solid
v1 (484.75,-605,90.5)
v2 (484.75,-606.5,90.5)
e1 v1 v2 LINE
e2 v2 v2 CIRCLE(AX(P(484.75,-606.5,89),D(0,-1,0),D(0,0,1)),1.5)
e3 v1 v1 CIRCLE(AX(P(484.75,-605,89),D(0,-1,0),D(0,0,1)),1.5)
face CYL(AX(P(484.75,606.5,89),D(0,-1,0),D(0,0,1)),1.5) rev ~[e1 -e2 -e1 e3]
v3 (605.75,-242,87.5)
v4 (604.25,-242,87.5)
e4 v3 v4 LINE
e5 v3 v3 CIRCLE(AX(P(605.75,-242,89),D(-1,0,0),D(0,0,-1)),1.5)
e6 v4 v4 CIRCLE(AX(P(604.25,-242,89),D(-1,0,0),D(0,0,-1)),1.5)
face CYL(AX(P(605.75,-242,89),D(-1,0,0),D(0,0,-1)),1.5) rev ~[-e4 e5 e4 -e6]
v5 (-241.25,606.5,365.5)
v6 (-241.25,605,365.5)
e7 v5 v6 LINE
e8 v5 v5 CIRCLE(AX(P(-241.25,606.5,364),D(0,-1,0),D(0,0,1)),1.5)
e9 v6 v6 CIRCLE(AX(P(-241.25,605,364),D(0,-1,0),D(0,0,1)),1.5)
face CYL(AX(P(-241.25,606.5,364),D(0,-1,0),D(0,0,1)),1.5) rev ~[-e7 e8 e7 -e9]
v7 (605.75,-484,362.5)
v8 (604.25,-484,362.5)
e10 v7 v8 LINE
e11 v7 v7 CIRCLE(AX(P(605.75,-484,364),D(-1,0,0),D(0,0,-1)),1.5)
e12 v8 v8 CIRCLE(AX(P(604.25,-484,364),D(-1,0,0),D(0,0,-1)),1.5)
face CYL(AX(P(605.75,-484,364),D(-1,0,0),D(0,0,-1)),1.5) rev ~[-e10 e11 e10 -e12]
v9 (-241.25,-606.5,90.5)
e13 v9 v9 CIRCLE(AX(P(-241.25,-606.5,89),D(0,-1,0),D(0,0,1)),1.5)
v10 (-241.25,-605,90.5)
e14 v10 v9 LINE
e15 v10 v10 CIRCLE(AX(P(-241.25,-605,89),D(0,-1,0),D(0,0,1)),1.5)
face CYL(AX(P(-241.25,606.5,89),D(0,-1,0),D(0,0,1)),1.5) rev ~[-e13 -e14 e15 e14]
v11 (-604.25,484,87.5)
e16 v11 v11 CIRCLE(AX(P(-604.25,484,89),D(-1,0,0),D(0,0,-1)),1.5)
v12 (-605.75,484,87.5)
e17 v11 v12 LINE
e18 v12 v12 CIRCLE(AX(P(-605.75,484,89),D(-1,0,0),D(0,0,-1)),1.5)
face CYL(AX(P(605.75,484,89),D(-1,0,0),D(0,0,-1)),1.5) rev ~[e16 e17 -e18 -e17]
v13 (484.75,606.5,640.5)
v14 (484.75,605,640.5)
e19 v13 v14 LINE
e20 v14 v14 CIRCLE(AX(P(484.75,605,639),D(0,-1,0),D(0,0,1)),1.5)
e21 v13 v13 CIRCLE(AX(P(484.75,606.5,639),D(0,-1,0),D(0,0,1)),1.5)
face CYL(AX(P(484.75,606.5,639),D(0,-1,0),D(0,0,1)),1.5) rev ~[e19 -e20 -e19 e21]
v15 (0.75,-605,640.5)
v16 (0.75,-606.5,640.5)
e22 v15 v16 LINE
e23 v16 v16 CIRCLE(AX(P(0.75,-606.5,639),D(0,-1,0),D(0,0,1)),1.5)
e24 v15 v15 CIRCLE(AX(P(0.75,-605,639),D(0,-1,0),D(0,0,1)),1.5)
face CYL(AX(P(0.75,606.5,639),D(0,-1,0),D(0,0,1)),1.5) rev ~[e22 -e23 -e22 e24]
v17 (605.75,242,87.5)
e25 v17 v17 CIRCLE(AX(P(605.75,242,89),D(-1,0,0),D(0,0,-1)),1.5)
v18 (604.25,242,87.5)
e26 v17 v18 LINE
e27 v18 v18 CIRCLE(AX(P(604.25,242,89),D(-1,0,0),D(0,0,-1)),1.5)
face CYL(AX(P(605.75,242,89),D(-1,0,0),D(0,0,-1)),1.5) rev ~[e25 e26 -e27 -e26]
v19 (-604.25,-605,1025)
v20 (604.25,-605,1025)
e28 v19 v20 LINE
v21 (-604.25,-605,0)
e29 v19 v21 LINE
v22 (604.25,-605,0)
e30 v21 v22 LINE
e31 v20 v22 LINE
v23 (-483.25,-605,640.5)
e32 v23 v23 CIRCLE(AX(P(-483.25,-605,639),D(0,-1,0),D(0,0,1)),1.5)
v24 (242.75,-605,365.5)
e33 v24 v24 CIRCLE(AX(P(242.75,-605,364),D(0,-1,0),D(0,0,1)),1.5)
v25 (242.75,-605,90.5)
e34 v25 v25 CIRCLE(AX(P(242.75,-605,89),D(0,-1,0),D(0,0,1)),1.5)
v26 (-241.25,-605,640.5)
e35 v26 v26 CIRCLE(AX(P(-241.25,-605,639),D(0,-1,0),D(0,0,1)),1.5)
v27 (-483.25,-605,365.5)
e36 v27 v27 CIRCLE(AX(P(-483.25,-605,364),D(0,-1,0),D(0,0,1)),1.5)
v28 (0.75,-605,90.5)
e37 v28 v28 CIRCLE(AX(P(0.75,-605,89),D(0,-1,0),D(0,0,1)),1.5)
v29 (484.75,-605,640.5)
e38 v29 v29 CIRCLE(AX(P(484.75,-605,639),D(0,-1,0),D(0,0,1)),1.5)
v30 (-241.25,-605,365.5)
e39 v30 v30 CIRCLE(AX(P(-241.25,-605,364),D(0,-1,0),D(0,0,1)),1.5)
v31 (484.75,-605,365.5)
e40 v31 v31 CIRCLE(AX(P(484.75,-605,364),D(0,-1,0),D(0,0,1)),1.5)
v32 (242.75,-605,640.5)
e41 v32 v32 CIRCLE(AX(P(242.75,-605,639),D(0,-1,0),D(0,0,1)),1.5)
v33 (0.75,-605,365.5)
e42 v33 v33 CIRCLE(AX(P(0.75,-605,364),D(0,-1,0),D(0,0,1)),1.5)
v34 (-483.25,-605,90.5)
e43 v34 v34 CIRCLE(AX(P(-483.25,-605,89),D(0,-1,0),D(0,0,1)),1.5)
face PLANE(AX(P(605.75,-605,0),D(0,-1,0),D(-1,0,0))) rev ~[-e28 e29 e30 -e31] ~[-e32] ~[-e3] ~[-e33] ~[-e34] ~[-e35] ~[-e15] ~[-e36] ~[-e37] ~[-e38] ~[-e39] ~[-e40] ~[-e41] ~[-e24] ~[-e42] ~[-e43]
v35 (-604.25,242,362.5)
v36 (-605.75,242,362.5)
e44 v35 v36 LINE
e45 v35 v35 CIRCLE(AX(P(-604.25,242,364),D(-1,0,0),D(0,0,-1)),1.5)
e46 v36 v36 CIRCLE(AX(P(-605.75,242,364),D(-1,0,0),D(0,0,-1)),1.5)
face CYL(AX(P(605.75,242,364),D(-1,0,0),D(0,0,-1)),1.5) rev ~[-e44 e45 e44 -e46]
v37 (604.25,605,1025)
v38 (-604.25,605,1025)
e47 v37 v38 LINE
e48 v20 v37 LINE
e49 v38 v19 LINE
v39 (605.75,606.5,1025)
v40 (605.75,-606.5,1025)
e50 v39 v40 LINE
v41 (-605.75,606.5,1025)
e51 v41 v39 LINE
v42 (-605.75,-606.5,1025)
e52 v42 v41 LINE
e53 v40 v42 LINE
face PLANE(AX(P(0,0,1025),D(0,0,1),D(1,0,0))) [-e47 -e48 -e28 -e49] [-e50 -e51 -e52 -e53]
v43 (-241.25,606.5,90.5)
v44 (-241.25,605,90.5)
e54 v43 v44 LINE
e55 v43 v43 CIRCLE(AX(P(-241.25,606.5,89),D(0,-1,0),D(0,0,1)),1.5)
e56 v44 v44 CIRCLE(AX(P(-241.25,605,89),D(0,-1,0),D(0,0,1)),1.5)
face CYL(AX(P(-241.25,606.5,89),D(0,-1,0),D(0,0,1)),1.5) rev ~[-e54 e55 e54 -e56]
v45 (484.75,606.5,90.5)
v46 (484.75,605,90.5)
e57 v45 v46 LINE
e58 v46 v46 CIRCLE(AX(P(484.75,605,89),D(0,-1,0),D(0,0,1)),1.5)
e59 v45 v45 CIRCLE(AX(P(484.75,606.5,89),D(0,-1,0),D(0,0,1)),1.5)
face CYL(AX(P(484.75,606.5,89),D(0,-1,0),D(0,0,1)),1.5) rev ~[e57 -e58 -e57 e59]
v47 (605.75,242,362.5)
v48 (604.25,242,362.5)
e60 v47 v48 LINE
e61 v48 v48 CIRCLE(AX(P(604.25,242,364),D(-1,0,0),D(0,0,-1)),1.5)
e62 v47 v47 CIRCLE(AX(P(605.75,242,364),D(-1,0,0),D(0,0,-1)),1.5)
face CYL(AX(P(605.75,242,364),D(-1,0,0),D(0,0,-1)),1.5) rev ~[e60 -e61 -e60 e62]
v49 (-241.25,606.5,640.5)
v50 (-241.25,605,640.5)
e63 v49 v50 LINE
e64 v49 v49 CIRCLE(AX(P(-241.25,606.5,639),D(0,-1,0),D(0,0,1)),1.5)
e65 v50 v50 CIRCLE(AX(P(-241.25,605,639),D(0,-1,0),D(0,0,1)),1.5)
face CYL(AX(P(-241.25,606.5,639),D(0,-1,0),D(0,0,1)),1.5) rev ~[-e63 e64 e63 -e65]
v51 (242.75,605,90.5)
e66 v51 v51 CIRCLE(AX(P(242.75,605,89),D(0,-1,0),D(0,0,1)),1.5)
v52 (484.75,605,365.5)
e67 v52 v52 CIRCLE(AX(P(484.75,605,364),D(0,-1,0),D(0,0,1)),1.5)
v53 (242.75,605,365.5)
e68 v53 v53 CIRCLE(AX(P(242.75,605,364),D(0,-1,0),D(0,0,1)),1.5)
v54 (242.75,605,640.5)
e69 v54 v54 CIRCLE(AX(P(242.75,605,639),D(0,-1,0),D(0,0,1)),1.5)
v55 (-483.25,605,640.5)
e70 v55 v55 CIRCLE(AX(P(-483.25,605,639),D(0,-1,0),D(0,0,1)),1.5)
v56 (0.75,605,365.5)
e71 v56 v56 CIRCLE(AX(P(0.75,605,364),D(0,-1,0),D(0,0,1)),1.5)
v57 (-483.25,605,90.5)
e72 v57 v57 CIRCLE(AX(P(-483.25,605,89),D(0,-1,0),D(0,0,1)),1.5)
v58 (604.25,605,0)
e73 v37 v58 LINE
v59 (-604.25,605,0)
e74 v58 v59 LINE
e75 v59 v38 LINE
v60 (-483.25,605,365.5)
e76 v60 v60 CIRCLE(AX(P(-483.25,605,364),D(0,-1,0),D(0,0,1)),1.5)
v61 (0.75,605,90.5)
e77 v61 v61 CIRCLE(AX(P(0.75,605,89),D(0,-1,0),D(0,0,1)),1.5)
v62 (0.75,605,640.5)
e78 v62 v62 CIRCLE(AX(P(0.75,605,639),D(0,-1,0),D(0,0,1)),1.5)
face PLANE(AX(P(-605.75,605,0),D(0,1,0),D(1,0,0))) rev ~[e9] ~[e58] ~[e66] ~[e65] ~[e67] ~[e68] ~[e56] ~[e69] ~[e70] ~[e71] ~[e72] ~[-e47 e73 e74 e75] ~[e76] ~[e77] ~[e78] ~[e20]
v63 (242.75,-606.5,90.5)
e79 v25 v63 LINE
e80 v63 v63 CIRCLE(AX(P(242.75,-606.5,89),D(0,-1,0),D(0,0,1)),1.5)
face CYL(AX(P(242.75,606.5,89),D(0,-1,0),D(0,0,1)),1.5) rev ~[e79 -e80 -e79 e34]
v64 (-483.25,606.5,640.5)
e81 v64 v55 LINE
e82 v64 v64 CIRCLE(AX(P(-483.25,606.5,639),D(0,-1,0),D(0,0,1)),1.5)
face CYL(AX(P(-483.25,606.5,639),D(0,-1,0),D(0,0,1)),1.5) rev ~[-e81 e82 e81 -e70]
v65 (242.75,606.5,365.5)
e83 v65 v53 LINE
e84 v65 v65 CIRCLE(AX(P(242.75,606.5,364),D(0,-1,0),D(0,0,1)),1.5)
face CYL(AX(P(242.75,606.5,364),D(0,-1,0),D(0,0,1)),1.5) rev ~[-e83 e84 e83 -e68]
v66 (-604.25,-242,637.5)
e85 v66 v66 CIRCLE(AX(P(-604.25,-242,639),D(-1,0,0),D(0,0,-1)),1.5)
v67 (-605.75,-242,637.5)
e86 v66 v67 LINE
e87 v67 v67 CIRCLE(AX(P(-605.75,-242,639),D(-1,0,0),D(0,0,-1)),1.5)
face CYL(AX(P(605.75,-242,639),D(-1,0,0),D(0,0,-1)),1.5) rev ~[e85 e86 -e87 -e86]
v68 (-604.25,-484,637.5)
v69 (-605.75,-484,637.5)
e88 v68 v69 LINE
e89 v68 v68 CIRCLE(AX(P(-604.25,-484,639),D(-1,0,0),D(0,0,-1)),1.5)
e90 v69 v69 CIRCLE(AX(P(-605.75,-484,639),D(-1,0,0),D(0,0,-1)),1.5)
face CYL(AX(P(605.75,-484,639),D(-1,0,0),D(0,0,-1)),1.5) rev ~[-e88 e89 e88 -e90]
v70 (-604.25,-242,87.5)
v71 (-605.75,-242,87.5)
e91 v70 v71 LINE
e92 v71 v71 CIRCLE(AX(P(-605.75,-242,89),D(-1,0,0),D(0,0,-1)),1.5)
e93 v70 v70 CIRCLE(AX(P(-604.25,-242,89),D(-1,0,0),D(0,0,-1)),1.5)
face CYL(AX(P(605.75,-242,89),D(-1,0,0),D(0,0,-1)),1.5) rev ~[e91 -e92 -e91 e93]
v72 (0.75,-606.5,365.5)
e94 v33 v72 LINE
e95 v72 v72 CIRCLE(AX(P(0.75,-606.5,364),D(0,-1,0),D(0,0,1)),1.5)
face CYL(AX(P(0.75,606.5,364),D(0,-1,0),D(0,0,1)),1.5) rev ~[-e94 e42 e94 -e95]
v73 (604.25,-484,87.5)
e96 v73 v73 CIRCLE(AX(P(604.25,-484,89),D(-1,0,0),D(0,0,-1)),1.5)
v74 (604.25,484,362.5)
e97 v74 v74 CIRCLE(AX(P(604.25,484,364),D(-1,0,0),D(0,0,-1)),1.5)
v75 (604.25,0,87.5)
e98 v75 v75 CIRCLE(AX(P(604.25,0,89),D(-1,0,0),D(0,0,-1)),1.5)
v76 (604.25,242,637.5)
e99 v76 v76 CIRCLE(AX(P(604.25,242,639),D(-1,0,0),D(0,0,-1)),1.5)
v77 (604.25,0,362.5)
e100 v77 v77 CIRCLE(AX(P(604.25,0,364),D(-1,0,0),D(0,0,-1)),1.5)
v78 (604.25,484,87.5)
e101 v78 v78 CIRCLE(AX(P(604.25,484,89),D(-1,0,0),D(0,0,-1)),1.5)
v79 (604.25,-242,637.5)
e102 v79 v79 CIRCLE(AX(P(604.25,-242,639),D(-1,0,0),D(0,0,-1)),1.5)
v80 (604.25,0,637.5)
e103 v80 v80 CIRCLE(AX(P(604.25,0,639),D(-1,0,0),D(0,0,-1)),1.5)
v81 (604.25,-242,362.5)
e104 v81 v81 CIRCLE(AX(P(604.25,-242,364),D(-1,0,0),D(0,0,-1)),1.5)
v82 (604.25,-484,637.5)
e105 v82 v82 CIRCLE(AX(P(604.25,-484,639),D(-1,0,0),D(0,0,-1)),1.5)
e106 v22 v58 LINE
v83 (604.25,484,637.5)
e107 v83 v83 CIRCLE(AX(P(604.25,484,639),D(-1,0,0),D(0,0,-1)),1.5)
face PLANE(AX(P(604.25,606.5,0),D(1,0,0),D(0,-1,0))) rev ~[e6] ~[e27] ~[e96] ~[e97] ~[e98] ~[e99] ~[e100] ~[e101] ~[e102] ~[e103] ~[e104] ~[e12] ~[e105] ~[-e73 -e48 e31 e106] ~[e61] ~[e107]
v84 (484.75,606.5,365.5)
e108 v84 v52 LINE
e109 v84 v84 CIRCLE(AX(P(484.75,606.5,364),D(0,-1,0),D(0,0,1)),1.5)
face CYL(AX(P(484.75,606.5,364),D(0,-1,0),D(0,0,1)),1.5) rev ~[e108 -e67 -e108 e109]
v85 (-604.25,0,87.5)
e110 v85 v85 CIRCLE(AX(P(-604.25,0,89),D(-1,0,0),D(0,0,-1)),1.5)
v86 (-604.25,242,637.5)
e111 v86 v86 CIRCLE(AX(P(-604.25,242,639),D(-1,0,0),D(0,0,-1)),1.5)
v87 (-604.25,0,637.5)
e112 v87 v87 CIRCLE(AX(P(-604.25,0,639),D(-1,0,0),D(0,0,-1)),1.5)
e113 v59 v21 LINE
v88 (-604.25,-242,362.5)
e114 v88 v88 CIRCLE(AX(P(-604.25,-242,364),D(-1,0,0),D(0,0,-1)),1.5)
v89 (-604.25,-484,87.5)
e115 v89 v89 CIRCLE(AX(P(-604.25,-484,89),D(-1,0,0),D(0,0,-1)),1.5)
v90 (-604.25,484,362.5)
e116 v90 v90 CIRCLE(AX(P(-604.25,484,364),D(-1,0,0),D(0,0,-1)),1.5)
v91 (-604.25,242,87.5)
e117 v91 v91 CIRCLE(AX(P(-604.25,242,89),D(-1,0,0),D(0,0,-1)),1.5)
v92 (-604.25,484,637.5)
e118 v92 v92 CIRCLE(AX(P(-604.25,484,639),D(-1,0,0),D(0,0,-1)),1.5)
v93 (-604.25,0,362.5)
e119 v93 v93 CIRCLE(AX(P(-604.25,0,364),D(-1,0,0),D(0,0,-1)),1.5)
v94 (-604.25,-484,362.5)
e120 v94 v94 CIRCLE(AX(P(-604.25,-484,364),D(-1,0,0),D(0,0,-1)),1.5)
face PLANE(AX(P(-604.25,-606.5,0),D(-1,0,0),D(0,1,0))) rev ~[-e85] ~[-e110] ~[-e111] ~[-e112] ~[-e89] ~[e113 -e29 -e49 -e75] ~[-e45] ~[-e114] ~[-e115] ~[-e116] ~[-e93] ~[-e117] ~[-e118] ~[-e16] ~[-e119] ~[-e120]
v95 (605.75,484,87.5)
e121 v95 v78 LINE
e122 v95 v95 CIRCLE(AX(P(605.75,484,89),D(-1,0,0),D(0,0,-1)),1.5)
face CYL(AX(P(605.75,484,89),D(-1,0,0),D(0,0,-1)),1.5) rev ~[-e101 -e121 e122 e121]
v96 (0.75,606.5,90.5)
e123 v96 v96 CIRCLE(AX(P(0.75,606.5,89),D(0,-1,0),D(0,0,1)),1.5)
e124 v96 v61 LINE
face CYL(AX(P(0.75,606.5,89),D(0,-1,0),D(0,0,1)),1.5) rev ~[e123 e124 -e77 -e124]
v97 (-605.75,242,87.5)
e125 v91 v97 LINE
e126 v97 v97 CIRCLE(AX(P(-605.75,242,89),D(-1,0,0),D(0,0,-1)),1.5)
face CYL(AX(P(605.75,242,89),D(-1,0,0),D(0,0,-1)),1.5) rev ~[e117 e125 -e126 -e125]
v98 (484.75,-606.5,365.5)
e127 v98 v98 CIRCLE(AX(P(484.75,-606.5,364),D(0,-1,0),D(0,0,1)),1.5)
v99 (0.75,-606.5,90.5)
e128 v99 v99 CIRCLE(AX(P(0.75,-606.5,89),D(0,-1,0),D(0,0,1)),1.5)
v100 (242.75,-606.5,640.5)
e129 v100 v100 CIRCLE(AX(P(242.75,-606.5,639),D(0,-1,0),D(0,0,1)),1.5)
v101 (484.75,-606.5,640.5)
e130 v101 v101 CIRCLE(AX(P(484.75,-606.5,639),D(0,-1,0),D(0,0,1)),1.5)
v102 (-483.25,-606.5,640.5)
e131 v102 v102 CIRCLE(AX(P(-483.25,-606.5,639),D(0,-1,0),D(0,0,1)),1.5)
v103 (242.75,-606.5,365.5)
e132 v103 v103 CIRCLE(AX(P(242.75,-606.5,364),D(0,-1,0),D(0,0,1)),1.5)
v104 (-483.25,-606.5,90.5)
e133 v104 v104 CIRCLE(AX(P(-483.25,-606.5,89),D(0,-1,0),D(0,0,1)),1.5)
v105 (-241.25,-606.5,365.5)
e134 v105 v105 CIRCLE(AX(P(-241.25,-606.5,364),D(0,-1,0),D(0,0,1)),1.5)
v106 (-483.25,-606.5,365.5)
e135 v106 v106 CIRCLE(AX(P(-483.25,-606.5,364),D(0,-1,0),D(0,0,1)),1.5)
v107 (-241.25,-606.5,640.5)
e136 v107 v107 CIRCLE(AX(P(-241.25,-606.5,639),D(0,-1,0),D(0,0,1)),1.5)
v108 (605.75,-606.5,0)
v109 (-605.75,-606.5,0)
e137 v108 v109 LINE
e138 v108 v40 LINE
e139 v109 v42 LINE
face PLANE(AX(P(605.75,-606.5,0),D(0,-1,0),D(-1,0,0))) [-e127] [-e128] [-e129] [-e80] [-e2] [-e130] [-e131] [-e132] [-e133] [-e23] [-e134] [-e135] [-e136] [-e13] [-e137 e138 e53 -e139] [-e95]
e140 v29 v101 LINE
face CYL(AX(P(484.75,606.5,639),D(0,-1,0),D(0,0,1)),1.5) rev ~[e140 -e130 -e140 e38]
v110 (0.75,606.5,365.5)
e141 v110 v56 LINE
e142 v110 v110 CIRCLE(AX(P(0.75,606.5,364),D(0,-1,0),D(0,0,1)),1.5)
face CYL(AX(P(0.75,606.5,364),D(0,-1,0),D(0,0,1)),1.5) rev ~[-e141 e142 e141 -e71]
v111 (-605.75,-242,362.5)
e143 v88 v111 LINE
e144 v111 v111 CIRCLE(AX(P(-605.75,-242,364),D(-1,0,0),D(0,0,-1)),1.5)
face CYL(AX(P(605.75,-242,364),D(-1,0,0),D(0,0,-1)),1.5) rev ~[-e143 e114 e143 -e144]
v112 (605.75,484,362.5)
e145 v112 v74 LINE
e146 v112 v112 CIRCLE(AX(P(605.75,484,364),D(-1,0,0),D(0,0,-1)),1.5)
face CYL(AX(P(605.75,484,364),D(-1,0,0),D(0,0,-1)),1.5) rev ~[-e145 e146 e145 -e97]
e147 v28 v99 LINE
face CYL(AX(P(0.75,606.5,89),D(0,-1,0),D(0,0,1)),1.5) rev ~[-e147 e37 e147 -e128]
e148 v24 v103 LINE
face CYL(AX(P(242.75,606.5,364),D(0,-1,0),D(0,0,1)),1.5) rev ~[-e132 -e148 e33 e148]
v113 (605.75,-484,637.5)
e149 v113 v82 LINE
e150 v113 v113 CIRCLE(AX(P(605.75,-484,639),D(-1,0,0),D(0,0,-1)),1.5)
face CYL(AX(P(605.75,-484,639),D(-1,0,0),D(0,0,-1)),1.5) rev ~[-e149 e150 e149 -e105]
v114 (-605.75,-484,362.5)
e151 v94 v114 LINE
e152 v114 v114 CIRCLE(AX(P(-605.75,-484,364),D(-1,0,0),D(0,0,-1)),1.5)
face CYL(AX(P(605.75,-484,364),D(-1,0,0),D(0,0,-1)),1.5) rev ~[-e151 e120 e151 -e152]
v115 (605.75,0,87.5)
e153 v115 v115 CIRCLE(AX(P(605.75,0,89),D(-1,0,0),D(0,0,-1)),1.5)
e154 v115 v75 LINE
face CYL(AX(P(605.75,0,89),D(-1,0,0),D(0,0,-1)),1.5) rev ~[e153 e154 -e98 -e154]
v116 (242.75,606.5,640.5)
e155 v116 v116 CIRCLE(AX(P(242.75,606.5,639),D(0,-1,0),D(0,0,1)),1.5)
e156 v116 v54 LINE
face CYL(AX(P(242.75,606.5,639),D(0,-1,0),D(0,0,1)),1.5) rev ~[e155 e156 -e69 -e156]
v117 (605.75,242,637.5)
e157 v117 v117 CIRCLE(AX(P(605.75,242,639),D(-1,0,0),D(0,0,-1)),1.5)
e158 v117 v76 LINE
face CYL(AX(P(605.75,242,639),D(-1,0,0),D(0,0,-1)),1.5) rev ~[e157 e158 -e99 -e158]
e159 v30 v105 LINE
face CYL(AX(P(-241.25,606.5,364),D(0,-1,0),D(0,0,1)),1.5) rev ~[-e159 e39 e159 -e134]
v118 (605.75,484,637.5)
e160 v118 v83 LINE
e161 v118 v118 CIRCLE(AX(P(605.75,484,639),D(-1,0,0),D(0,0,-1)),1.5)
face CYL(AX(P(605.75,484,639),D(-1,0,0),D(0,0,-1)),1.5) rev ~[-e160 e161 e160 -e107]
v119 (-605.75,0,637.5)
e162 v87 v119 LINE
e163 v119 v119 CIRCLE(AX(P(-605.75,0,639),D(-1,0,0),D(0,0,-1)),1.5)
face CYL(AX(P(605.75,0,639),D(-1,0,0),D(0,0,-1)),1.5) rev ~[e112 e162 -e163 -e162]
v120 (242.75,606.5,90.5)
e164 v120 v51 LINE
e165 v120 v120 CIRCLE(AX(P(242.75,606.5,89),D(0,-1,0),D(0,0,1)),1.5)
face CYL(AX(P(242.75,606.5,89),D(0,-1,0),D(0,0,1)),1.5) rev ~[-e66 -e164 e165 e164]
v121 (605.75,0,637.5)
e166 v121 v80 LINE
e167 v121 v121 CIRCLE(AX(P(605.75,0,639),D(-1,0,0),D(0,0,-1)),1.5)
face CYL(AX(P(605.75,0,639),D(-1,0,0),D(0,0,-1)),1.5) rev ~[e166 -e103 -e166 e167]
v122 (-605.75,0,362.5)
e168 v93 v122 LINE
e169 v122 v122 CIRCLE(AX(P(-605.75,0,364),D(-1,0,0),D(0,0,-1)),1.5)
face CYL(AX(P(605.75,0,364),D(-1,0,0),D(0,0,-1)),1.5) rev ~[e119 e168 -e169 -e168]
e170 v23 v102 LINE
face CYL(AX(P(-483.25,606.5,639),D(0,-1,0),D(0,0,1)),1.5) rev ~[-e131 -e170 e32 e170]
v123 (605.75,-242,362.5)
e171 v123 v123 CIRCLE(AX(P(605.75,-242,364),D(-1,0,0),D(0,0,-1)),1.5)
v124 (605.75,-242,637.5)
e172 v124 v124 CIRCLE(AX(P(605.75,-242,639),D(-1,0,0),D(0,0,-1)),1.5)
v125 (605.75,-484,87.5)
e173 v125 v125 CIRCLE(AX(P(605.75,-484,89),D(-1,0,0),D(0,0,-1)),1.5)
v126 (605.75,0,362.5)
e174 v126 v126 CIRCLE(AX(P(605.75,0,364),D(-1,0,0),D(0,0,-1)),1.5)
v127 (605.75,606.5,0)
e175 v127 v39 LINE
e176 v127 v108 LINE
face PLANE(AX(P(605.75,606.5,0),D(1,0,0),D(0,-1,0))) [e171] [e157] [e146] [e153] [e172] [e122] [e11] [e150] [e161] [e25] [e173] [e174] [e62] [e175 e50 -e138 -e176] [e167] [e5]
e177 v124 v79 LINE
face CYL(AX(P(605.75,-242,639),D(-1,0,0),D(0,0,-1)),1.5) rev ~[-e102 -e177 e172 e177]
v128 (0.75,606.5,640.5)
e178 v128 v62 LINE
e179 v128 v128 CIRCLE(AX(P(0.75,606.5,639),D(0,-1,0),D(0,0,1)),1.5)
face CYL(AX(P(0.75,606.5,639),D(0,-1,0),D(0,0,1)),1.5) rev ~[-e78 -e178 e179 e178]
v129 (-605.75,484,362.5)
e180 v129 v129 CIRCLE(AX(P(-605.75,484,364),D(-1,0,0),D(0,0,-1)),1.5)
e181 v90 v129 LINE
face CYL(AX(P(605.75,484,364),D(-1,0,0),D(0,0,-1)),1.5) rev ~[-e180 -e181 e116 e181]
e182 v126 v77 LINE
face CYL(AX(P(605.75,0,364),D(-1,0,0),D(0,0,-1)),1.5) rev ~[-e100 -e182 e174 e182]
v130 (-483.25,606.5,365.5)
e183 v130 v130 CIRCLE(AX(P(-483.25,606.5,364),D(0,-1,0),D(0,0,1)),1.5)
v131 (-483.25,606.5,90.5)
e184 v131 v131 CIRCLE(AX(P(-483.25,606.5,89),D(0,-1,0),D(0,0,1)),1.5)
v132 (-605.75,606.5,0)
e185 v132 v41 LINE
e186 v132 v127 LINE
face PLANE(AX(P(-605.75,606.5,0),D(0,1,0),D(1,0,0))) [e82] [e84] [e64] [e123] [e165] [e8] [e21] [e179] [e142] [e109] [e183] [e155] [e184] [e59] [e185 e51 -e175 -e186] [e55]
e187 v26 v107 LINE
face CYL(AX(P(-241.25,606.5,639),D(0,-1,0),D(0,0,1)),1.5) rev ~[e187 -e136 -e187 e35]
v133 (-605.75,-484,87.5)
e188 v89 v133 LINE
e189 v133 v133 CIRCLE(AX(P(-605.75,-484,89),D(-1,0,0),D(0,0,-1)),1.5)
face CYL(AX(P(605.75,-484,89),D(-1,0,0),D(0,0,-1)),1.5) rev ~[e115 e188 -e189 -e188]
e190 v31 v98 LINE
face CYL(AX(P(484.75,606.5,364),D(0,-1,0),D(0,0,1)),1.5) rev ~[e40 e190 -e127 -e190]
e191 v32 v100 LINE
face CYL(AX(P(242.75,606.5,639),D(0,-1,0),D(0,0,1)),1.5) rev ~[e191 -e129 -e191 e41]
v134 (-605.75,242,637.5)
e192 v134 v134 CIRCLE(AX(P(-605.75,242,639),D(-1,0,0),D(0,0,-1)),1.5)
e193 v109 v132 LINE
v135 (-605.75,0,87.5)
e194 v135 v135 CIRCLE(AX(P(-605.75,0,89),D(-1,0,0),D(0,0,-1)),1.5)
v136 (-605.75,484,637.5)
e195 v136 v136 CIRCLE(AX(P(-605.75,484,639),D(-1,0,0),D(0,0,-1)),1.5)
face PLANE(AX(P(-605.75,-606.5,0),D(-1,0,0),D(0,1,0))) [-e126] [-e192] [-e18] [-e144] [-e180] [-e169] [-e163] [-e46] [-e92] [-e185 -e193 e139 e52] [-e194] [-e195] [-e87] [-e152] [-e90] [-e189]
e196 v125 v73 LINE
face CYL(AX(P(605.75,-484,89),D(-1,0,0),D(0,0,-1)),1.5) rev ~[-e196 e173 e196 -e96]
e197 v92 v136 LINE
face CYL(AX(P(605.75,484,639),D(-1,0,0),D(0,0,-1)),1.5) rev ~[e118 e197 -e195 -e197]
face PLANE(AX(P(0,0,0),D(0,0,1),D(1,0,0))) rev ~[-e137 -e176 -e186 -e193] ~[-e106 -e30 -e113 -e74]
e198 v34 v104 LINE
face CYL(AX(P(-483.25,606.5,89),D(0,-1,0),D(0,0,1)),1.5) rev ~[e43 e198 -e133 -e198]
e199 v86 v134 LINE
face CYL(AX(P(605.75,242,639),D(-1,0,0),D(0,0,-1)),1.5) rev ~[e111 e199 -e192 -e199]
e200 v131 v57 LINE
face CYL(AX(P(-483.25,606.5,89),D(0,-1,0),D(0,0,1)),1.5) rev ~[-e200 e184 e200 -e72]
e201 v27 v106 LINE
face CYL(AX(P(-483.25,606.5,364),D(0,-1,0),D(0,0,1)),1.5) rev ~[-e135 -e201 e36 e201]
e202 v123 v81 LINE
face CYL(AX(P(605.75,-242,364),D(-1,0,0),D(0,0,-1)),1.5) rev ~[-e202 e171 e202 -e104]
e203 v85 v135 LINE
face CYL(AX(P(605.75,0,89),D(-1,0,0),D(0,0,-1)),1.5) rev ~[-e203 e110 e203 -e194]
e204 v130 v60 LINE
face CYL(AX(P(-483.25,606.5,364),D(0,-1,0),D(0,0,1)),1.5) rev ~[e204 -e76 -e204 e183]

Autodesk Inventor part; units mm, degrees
ref_plane "YZ Plane" through (0, 0, 0) normal (1, 0, 0) x (0, 1, 0)
ref_plane "XZ Plane" through (0, 0, 0) normal (0, 1, 0) x (-1, 0, 0)
ref_plane "XY Plane" through (0, 0, 0) normal (0, 0, 1) x (1, 0, 0)
sketch "Sketch1" plane through (0, 0, 0) normal (0, 0, 1) x (1, 0, 0)
  line L0 (-608.75, -609.5) -> (608.75, 609.5) construction
  line L1 (608.75, -609.5) -> (-608.75, 609.5) construction
  line L2 (-605.75, 606.5) -> (605.75, 606.5)
  line L3 (605.75, 606.5) -> (605.75, -606.5)
  line L4 (605.75, -606.5) -> (-605.75, -606.5)
  line L5 (-605.75, -606.5) -> (-605.75, 606.5)
  point P0 (0, 0)
  dimension "d0" = 1217.5
  dimension "d1" = 1219
extrude "Extrusion1" add sketch "Sketch1" along normal blind 1025
sketch "Sketch2" plane through (605.75, -606.5, 0) normal (1, 0, 0) x (0, 0, -1)
  line L0 (0, 0) -> (-1025, 0) construction
  line L1 (-639, 0) -> (-639, 1213) construction
  line L2 (0, 1213) -> (-1025, 1213) construction
  line L3 (-364, 0) -> (-364, 1204) construction
  line L4 (-89, 0) -> (-89, 1213) construction
  line L5 (-1025, 0) -> (-1025, 1213) projected
  line L6 (-1025, 122.5) -> (0, 122.5) construction
  line L7 (0, 0) -> (0, 1213) construction
  line L8 (-1025, 364.5) -> (0, 364.5) construction
  line L9 (-1025, 606.5) -> (0, 606.5) construction
  line L10 (-1025, 848.5) -> (0, 848.5) construction
  line L11 (-1025, 1090.5) -> (0, 1090.5) construction
  point P0 (0, 606.5)
  point P1 (-639, 1090.5)
  point P2 (-364, 1090.5)
  point P3 (-89, 1090.5)
  point P4 (-89, 848.5)
  point P5 (-89, 606.5)
  point P6 (-89, 364.5)
  point P7 (-89, 122.5)
  point P8 (-364, 122.5)
  point P9 (-364, 364.5)
  point P10 (-364, 606.5)
  point P11 (-364, 848.5)
  point P12 (-639, 848.5)
  point P13 (-639, 606.5)
  point P14 (-639, 364.5)
  point P15 (-639, 122.5)
  dimension "d5" = 386
  dimension "d6" = 275
  dimension "d7" = 275
  dimension "d8" = 122.5
  dimension "d9" = 242
  dimension "d10" = 242
  dimension "d11" = 242
  dimension "d12" = 242
  dimension "d13" = 122.5
sketch "Sketch3" plane through (-605.75, 606.5, 0) normal (0, 1, 0) x (1, 0, 0)
  line L0 (1211.5, -639) -> (0, -639) construction
  line L1 (0, 0) -> (0, -1025) construction
  line L2 (1211.5, -364) -> (7.5, -364) construction
  line L3 (1211.5, -89) -> (0, -89) construction
  line L4 (0, -1025) -> (1211.5, -1025) construction
  line L5 (122.5, -1025) -> (122.5, 0) construction
  line L6 (0, 0) -> (1211.5, 0) construction
  line L7 (364.5, -1000) -> (364.5, 0) construction
  line L8 (606.5, -1000) -> (606.5, 0) construction
  line L9 (848.5, -1025) -> (848.5, 0) construction
  line L10 (1090.5, -1025) -> (1090.5, 0) construction
  line L11 (1211.5, 0) -> (1211.5, -1025) projected
  point P0 (605.75, 0)
  point P1 (122.5, -639)
  point P2 (122.5, -364)
  point P3 (122.5, -89)
  point P4 (364.5, -89)
  point P5 (364.5, -364)
  point P6 (364.5, -639)
  point P7 (606.5, -639)
  point P8 (848.5, -639)
  point P9 (1090.5, -639)
  point P10 (1090.5, -364)
  point P11 (1090.5, -89)
  point P12 (848.5, -89)
  point P13 (848.5, -364)
  point P14 (606.5, -364)
  point P15 (606.5, -89)
  dimension "d14" = 121
  dimension "d15" = 242
  dimension "d16" = 242
  dimension "d17" = 242
  dimension "d18" = 242
  dimension "d19" = 122.5
shell "Shell1" thickness 1.5 removed faces 2 at (-201.9167, 202.1667, 0) at (-201.9167, 202.1667, 1025)
hole "Hole1" at (605.75, -484, 639) at (605.75, -242, 639) at (605.75, 0, 639) at (605.75, 242, 639) at (605.75, 484, 639) at (605.75, 484, 364) at (605.75, 242, 364) at (605.75, 0, 364) at (605.75, -242, 364) at (605.75, -484, 364) at (605.75, -484, 89) at (605.75, -242, 89) at (605.75, 0, 89) at (605.75, 242, 89) at (605.75, 484, 89) direction (-1, 0, 0) diameter 3 end through all
hole "Hole2" at (-483.25, 606.5, 639) at (-483.25, 606.5, 364) at (-483.25, 606.5, 89) at (-241.25, 606.5, 89) at (-241.25, 606.5, 364) at (-241.25, 606.5, 639) at (0.75, 606.5, 639) at (242.75, 606.5, 639) at (484.75, 606.5, 639) at (484.75, 606.5, 364) at (484.75, 606.5, 89) at (242.75, 606.5, 89) at (242.75, 606.5, 364) at (0.75, 606.5, 364) at (0.75, 606.5, 89) direction (0, -1, 0) diameter 3 end through all
properties part number "Entrance"
